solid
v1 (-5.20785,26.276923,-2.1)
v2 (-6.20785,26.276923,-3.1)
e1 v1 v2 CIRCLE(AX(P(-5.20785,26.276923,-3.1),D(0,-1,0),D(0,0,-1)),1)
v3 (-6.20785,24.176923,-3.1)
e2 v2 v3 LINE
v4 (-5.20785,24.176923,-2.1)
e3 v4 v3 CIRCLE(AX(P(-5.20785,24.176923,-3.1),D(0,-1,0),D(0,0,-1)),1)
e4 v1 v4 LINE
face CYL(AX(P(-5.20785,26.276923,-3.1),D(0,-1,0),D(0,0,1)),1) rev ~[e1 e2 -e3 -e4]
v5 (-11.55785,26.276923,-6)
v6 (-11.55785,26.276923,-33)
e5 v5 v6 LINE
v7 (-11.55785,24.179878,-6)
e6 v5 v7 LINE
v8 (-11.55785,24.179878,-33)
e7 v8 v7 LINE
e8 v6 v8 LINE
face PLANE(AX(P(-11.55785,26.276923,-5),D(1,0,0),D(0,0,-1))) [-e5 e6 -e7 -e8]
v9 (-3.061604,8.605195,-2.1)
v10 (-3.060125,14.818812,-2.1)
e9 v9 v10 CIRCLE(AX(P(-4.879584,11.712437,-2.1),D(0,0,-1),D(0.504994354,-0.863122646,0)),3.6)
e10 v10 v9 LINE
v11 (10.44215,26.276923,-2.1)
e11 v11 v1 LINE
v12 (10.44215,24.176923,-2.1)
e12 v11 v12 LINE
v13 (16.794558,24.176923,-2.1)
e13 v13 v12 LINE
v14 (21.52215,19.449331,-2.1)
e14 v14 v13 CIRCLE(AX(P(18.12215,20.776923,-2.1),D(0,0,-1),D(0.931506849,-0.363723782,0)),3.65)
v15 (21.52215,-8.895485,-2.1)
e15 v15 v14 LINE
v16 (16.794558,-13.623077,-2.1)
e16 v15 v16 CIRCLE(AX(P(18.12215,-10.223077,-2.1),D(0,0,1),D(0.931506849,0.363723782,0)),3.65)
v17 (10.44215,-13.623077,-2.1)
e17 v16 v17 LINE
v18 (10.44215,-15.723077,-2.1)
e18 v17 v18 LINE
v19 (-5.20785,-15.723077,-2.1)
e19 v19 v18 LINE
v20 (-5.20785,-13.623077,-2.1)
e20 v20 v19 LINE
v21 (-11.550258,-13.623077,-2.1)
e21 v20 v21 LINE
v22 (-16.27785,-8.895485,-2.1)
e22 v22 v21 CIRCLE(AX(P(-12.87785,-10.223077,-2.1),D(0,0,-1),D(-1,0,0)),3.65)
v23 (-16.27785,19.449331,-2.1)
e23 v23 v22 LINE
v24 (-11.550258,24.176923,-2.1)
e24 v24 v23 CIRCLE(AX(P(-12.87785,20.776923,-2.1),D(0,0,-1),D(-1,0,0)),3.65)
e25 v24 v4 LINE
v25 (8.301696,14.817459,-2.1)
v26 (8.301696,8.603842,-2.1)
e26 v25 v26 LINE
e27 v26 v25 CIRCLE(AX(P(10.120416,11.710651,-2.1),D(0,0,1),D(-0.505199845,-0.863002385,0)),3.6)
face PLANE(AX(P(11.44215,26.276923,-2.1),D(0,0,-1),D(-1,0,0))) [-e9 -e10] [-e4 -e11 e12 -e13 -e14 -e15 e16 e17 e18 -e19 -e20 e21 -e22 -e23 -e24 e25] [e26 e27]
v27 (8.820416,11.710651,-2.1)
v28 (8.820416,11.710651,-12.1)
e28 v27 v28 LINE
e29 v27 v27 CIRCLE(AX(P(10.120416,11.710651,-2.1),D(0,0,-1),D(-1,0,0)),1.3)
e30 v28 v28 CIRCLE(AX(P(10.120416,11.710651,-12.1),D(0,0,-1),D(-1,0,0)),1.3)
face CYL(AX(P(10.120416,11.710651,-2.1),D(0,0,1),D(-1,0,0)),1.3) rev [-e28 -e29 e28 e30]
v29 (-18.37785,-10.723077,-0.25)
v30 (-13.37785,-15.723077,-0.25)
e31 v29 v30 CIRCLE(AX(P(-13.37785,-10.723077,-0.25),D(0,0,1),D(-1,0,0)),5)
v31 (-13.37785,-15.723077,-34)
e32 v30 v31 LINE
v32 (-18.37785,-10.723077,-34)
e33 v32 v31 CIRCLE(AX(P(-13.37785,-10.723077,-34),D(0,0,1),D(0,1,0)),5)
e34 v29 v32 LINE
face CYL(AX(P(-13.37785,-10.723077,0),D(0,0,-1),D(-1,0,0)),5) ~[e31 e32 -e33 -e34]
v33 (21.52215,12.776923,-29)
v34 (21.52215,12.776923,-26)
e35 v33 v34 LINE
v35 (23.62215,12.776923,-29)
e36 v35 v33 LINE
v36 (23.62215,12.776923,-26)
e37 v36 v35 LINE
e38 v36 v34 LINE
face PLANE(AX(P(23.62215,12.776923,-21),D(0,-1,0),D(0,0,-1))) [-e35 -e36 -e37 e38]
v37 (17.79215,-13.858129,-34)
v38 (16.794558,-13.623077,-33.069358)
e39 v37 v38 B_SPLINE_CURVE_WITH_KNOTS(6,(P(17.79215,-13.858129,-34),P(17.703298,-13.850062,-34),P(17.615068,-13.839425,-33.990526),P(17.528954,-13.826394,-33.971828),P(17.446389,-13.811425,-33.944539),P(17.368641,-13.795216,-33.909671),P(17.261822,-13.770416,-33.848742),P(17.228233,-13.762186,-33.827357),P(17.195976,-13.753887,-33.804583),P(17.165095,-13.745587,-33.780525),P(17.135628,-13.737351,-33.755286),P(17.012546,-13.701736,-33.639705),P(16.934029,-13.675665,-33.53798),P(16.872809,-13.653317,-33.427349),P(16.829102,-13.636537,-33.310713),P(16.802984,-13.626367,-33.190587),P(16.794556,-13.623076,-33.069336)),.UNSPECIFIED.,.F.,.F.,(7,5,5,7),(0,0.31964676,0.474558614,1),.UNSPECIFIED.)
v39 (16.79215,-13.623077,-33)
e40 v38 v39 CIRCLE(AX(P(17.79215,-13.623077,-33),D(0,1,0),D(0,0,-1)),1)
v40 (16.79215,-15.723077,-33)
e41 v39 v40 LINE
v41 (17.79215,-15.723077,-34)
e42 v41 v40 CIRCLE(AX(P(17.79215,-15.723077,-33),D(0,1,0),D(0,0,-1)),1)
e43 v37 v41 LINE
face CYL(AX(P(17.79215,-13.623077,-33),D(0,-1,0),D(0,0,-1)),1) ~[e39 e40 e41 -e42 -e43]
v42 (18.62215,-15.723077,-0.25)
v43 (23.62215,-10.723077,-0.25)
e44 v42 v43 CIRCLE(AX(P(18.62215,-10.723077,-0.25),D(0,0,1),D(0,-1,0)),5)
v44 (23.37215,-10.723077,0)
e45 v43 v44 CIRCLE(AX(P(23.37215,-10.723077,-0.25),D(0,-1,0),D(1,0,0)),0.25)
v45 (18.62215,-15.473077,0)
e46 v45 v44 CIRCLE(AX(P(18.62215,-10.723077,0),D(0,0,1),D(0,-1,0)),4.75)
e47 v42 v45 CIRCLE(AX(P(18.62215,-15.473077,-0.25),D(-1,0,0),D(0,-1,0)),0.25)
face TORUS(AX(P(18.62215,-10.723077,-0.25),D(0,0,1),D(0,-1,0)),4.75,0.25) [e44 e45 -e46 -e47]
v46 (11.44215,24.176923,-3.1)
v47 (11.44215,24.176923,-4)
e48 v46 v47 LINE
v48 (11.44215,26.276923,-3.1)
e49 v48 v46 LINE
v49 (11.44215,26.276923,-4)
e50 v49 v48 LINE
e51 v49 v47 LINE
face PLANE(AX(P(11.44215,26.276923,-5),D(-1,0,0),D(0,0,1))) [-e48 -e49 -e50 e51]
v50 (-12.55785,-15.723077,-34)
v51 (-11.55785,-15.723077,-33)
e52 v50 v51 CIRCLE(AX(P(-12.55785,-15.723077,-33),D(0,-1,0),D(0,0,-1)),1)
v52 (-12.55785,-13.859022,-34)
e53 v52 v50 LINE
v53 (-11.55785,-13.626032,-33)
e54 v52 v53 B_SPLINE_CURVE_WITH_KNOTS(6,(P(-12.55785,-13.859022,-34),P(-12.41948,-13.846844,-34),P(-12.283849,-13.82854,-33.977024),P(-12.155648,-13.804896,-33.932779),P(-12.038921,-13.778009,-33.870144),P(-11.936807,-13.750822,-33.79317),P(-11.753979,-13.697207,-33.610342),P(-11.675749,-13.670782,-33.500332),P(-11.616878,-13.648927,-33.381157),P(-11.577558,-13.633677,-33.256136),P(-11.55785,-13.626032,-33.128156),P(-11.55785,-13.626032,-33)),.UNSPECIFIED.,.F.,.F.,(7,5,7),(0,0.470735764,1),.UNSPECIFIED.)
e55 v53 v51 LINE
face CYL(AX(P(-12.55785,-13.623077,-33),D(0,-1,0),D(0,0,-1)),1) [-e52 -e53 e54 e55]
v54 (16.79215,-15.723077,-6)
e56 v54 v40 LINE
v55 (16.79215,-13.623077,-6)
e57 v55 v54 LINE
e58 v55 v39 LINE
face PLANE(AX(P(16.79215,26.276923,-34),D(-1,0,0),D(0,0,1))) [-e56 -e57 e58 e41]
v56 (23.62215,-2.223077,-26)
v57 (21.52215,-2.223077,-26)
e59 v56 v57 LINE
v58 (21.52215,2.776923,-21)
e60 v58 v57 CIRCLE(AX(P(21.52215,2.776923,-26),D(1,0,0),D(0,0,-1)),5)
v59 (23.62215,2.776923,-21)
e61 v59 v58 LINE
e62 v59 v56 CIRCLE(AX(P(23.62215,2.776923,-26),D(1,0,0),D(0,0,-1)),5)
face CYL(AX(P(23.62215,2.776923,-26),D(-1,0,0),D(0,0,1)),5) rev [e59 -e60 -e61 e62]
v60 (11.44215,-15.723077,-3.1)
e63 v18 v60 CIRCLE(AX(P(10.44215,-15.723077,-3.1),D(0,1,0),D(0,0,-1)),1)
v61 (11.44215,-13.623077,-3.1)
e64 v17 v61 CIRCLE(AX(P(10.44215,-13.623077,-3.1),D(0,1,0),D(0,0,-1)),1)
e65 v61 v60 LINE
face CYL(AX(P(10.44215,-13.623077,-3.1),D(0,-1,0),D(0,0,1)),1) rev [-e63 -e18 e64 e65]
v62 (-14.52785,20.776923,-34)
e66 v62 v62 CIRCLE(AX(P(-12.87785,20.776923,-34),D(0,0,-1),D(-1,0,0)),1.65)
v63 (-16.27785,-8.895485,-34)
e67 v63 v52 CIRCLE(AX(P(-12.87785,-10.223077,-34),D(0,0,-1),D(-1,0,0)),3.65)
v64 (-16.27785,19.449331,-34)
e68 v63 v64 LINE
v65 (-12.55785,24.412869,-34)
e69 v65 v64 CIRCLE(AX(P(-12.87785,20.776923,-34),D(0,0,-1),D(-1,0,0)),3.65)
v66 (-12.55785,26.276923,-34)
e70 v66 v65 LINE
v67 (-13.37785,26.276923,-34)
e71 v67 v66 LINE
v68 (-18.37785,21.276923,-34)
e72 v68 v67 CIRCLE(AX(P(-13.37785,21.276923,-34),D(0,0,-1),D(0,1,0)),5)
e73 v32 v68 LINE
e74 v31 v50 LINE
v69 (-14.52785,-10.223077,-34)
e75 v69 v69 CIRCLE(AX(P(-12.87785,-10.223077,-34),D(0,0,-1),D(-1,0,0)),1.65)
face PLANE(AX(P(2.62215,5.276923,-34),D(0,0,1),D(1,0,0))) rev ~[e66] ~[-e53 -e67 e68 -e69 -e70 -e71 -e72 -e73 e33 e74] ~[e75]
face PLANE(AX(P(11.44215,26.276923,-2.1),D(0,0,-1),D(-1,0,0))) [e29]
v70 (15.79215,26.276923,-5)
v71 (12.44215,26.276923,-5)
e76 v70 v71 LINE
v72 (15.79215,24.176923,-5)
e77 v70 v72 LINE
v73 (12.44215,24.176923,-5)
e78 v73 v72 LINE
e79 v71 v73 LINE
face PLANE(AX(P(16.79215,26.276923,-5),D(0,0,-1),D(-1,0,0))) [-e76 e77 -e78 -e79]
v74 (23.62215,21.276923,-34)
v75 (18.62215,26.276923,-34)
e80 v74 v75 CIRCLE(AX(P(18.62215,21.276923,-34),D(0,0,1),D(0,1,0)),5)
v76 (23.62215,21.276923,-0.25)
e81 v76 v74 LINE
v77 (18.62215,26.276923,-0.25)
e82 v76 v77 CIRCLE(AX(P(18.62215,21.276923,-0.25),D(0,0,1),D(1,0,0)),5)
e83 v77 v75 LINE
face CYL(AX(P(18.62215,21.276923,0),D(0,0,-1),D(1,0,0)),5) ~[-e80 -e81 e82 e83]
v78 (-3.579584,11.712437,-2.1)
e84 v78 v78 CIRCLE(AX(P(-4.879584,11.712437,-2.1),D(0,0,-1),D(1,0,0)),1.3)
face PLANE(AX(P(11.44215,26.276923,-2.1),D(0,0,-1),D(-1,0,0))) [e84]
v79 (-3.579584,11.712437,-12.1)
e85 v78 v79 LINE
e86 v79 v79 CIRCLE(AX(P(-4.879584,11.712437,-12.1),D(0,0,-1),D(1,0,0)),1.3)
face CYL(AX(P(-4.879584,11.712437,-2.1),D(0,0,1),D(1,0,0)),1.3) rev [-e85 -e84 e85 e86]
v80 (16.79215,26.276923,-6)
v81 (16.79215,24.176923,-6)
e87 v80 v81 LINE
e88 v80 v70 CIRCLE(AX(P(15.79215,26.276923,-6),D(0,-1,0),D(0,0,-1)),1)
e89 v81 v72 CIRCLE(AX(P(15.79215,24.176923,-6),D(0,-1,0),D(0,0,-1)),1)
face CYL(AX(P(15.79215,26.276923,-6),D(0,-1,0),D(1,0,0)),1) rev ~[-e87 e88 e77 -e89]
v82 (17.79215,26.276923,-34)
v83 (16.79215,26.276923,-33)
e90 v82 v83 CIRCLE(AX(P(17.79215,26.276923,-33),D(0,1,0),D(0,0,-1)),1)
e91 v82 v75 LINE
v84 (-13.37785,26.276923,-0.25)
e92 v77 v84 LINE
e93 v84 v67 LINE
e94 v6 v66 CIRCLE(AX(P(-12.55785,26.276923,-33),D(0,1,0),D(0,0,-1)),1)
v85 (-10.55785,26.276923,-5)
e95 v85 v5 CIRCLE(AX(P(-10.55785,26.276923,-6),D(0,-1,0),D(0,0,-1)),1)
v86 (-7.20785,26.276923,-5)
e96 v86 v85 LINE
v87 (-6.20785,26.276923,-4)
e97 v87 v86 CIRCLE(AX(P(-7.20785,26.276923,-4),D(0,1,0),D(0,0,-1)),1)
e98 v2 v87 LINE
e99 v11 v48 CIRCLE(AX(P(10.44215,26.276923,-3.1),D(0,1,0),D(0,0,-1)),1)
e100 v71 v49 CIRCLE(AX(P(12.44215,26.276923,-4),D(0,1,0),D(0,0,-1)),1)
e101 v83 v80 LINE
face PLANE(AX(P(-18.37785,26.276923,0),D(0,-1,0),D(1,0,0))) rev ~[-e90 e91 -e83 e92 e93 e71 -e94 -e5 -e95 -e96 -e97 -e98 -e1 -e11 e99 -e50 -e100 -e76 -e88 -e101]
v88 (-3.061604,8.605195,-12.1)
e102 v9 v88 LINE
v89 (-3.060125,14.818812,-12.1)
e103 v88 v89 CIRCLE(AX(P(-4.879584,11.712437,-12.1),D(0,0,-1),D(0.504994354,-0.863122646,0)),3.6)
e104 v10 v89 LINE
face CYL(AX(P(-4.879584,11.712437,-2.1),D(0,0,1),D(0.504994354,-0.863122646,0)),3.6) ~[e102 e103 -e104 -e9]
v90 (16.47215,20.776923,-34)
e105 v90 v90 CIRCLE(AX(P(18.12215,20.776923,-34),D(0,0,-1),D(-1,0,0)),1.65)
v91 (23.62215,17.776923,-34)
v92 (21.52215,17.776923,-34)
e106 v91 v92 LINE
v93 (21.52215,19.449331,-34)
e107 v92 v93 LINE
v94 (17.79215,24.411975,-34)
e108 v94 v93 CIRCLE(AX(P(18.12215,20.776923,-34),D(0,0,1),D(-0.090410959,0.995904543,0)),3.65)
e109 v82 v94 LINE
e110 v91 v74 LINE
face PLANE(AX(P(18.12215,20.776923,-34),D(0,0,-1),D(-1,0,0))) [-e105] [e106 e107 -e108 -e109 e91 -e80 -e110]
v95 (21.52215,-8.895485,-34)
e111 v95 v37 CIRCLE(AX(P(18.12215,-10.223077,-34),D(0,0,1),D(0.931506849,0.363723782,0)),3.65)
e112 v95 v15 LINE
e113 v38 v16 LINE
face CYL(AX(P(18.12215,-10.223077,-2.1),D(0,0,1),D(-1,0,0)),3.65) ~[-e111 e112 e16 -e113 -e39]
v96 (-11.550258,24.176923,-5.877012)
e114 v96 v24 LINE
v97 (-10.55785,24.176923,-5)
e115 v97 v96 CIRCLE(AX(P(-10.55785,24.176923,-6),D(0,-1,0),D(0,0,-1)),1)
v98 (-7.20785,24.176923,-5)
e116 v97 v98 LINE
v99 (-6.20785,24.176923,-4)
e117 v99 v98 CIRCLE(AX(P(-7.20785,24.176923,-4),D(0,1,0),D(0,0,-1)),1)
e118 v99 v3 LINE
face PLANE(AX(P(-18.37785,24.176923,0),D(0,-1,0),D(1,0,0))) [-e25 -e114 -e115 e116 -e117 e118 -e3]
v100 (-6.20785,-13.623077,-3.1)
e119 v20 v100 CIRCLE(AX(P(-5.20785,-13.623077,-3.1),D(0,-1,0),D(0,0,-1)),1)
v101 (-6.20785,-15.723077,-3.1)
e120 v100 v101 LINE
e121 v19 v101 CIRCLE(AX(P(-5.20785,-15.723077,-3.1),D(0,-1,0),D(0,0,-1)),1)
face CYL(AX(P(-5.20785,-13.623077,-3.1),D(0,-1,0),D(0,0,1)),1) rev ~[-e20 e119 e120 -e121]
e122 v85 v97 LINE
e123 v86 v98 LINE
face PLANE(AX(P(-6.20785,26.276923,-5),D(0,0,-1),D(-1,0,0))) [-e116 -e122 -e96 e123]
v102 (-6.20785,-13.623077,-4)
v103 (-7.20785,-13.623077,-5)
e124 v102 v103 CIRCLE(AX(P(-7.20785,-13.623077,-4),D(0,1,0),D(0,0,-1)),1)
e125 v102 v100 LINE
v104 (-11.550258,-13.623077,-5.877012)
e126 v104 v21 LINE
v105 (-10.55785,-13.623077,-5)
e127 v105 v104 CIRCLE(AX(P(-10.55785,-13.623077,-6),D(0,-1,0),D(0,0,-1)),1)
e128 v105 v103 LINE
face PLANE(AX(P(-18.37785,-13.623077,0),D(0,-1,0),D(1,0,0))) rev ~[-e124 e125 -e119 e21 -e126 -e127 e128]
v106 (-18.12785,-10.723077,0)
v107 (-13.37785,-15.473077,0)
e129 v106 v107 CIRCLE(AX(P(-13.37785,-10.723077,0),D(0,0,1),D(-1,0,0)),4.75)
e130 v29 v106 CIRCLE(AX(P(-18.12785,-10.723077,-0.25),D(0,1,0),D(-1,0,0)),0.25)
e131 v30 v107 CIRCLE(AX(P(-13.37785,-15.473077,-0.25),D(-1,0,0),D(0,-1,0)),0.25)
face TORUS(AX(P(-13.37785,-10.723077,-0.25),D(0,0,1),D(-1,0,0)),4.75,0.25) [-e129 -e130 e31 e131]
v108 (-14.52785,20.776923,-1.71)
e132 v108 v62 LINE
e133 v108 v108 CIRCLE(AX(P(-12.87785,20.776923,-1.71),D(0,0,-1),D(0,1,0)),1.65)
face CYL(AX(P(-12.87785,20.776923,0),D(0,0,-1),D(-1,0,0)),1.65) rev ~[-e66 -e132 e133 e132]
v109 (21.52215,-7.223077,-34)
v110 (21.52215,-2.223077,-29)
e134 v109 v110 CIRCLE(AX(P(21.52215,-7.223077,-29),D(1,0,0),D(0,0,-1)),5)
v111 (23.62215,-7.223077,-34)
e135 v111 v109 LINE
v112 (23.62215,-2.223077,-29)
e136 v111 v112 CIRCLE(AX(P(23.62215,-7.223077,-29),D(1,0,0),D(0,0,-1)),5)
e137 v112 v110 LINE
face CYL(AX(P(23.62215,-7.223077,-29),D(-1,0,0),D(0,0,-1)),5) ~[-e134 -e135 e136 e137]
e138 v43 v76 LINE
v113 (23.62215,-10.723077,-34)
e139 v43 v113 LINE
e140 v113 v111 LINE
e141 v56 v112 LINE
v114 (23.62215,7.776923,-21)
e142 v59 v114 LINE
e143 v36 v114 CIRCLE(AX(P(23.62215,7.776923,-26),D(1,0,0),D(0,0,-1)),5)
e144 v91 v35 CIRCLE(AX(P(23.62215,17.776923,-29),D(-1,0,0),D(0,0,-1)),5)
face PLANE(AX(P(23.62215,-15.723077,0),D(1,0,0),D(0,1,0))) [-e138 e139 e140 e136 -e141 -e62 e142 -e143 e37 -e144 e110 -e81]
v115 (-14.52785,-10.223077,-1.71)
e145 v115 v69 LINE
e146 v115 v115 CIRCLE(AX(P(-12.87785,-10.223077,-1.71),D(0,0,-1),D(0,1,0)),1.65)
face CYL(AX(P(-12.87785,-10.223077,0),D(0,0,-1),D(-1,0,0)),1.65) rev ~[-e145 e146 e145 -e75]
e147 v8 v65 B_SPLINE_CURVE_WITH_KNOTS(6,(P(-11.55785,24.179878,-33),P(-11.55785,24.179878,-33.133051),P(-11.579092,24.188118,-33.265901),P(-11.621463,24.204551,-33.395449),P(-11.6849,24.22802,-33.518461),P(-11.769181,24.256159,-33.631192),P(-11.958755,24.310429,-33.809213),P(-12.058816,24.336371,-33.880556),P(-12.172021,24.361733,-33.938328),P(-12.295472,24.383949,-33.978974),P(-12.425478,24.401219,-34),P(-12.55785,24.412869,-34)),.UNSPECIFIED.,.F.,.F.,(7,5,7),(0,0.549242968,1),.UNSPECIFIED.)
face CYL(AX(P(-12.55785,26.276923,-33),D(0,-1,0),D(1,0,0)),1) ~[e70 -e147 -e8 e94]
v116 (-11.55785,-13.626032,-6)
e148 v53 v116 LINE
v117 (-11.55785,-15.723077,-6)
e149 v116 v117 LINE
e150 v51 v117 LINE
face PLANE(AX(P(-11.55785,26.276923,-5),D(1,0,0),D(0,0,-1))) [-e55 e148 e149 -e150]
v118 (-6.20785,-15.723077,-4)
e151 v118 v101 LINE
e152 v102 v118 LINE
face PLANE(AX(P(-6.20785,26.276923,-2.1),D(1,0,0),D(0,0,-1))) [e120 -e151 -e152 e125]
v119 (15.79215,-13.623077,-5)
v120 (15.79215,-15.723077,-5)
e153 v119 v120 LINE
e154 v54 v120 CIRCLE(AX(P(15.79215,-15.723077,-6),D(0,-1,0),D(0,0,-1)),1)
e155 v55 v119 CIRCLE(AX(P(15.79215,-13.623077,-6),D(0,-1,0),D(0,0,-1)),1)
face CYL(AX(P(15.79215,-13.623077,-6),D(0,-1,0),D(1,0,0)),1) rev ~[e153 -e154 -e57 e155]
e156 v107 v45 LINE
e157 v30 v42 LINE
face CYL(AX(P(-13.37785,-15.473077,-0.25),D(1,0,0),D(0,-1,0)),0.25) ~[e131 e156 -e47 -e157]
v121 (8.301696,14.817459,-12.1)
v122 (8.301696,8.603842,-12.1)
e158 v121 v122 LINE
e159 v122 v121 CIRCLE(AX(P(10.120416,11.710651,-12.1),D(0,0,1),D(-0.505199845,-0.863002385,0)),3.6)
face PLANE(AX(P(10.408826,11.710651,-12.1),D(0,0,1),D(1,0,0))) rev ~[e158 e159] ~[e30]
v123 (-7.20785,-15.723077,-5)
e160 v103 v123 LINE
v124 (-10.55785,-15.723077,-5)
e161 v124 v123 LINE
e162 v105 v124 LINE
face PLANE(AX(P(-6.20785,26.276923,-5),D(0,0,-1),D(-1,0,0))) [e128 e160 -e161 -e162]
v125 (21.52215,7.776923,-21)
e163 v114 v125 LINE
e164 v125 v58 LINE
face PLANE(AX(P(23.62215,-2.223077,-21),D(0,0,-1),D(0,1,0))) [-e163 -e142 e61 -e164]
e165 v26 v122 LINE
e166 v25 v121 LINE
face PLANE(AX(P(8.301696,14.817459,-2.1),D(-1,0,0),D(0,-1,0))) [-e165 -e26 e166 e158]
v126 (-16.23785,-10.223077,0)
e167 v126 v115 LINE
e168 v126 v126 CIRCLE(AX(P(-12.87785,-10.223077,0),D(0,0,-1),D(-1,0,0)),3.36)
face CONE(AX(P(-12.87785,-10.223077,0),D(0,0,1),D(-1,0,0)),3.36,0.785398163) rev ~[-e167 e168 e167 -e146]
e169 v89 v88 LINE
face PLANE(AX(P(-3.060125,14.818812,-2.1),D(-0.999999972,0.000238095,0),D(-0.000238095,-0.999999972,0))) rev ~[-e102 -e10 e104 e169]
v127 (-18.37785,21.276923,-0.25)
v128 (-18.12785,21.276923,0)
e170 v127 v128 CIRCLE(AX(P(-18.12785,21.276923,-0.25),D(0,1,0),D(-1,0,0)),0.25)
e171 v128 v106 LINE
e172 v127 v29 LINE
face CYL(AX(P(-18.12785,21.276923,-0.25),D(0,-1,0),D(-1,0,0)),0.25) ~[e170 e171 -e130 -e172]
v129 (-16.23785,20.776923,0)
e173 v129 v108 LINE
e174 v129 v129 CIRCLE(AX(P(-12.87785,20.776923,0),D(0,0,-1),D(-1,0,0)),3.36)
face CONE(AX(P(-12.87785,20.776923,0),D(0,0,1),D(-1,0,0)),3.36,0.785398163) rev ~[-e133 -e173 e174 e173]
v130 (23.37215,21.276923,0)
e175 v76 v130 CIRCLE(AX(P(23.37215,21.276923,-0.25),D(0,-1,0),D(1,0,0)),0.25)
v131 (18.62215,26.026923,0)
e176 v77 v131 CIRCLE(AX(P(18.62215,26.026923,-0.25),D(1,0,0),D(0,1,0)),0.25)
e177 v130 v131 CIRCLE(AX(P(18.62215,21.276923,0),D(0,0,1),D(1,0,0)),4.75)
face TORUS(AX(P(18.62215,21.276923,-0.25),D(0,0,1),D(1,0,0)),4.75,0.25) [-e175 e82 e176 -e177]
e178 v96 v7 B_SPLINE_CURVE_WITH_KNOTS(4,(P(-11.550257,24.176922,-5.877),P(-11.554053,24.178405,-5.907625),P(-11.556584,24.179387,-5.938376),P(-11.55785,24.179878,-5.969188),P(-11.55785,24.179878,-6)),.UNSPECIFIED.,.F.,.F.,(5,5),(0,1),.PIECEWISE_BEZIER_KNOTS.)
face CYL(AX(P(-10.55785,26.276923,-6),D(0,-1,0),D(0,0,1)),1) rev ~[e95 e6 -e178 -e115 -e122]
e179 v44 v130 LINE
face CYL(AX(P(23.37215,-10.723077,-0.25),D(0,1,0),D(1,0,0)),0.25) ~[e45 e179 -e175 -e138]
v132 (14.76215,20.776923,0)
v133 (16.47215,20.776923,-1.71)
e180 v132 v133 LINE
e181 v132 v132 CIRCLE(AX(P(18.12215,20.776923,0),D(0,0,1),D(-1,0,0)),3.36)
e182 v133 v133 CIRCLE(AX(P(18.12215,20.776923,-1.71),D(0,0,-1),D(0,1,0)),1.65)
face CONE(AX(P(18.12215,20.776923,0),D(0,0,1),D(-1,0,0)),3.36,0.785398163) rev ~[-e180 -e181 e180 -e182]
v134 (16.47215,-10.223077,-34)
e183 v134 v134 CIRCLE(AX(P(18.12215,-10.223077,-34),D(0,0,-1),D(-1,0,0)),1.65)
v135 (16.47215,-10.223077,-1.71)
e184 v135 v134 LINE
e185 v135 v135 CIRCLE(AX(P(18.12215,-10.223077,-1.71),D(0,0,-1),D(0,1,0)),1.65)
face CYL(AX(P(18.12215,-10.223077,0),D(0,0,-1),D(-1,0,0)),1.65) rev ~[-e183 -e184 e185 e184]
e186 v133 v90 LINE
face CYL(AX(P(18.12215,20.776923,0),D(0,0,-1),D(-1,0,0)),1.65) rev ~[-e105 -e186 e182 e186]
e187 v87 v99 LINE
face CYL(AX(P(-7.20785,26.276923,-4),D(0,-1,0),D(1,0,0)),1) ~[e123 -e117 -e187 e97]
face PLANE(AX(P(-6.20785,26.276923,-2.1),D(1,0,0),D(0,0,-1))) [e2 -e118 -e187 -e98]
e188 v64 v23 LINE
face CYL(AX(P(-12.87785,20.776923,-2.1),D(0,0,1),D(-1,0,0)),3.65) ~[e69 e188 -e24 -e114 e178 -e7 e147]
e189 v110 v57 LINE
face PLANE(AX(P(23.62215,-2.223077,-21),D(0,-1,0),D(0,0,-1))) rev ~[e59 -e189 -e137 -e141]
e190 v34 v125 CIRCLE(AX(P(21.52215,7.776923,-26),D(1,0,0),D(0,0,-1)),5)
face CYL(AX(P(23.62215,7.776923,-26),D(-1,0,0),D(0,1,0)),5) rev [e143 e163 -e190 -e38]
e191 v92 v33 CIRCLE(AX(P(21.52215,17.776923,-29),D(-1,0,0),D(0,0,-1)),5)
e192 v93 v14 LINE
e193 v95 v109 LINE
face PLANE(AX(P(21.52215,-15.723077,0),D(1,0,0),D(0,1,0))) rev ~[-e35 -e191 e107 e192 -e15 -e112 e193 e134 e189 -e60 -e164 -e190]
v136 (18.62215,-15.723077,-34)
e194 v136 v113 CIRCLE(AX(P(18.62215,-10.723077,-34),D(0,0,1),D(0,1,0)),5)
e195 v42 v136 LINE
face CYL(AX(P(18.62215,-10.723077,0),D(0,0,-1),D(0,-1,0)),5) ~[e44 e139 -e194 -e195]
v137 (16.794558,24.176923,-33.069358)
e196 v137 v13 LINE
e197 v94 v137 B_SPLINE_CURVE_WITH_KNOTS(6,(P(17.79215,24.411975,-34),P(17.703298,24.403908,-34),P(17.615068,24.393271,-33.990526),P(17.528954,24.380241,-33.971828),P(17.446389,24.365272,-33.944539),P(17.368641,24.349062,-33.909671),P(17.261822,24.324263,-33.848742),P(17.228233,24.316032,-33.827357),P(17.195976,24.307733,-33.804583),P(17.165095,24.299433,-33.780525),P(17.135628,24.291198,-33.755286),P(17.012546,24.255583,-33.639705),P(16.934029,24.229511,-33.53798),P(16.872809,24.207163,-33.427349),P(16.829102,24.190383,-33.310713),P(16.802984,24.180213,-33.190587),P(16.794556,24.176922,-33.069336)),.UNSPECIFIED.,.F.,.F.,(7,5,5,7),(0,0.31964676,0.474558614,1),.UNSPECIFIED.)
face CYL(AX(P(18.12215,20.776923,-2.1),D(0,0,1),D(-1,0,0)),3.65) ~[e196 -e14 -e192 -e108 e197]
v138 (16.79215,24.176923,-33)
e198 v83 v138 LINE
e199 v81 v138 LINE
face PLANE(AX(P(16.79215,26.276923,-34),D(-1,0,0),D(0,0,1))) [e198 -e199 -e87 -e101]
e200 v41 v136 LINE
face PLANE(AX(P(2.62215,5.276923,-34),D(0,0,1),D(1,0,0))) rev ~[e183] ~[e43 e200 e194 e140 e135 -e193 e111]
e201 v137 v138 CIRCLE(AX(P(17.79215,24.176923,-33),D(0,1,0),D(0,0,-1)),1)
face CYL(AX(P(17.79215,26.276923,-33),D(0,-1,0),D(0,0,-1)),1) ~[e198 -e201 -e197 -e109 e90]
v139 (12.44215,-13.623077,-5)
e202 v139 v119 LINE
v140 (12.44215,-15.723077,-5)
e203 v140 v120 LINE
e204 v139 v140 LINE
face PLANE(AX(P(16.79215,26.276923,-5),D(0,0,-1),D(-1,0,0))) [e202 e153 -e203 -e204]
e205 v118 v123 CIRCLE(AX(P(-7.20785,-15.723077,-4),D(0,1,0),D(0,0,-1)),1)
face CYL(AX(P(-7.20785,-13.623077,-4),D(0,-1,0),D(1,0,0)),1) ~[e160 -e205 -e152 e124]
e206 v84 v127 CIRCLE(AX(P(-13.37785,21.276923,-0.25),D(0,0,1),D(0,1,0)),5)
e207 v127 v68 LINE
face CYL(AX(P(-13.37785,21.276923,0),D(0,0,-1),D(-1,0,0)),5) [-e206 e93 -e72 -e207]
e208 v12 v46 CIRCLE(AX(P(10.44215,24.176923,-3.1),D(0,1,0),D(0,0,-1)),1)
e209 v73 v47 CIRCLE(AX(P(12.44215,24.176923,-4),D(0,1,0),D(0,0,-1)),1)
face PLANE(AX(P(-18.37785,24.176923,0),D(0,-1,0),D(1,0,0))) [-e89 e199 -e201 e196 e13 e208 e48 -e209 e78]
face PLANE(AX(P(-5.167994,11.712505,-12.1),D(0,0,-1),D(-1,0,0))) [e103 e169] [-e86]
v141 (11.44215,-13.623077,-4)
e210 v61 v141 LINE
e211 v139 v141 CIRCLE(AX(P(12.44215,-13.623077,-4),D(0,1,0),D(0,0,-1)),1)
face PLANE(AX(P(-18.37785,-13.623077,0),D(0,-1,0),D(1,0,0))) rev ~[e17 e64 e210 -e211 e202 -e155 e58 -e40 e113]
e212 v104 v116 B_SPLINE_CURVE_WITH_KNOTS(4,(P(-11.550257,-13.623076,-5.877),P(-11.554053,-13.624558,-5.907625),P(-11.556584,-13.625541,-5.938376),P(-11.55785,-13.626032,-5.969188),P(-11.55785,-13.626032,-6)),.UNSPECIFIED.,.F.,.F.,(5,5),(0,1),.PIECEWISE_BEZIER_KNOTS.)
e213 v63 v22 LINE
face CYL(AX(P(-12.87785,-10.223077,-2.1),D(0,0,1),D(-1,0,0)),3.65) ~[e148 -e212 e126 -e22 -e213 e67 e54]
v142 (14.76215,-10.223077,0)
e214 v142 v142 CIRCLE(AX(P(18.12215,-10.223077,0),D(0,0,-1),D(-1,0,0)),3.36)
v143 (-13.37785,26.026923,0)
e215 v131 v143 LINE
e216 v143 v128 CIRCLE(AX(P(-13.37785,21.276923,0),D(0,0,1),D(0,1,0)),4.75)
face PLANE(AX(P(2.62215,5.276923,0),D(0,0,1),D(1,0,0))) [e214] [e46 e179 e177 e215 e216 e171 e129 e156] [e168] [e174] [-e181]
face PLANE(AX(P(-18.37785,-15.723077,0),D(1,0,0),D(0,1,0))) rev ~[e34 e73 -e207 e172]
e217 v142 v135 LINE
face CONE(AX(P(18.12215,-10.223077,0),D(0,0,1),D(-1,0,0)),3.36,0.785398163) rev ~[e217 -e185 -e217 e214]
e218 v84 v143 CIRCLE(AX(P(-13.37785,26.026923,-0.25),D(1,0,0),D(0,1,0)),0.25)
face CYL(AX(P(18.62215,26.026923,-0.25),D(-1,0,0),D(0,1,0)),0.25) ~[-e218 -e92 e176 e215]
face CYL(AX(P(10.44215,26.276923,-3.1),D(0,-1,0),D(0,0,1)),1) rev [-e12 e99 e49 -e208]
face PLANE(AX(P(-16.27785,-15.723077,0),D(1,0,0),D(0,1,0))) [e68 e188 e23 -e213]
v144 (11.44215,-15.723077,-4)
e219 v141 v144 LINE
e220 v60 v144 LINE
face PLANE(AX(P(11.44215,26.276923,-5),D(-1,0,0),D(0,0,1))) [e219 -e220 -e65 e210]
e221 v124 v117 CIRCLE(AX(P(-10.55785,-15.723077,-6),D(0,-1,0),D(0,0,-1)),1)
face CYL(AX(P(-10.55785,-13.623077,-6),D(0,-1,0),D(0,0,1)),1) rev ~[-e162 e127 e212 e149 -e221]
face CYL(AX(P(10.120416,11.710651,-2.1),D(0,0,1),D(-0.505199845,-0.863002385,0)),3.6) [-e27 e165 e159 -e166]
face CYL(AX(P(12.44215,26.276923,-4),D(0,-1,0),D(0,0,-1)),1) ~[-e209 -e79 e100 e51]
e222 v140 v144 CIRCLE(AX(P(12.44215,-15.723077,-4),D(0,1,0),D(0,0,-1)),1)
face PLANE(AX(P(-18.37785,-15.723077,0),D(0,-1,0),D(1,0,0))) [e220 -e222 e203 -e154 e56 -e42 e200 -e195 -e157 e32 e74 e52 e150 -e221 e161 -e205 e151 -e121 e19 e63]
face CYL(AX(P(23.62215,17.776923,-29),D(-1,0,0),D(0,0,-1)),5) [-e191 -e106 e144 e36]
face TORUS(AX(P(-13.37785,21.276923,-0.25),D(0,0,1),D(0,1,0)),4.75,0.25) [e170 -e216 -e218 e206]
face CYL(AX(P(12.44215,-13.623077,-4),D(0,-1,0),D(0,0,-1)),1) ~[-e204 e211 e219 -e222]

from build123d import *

# Parameters (mm, degrees)
CROQUIS1_W                                           = 42
CROQUIS1_H                                           = 42
SALIENTE_EXTRUIR1_DEPTH                              = 34
REDONDEO1_R                                          = 5
VACIADO1_T                                           = -2.1
CORTAR_EXTRUIR1_DEPTH                                = 59.974621346
CORTAR_EXTRUIR2_REACH                                = 62.087
CROQUIS4_W                                           = 13
CROQUIS4_H                                           = 15
REDONDEO2_R                                          = 5
REDONDEO3_R                                          = 1
REDONDEO4_R                                          = 0.25
CROQUIS5_R                                           = 3.65
SALIENTE_EXTRUIR2_DEPTH                              = 31.9
REFRENTADO_PARA_TORNILLO_TAP_N_CON_CABEZ_D           = 3.3
REFRENTADO_PARA_TORNILLO_TAP_N_CON_CABEZ_CSINK_D     = 6.72
REFRENTADO_PARA_TORNILLO_TAP_N_CON_CABEZ_CSINK_ANGLE = 90
CROQUIS16_R                                          = 1.3
SALIENTE_EXTRUIR3_DEPTH                              = 10


with BuildPart() as part:
    # Croquis1 → Saliente-Extruir1 (new body)
    with BuildSketch(Plane.XY):
        with Locations((2.622149837, 5.276923077)):
            Rectangle(CROQUIS1_W, CROQUIS1_H)
    extrude(amount=-SALIENTE_EXTRUIR1_DEPTH)

    # Redondeo1
    redondeo1_edges = [part.edges().sort_by_distance(p)[0] for p in [
        (-18.377850163, 26.276923077, -17),
        (23.622149837, 26.276923077, -17),
        (23.622149837, -15.723076923, -17),
        (-18.377850163, -15.723076923, -17),
    ]]
    fillet(redondeo1_edges, radius=REDONDEO1_R)

    # Vaciado1
    vaciado1_openings = [part.faces().sort_by_distance(p)[0] for p in [
        (2.622149837, 5.276923077, -34),
    ]]
    offset(amount=VACIADO1_T, openings=vaciado1_openings, kind=Kind.INTERSECTION)

    # Croquis2 → Cortar-Extruir1 (cut, through all)
    with BuildSketch(Plane(origin=(0, 26.276923077, 0), x_dir=(1, 0, 0), z_dir=(0, 1, 0))):
        Polygon((-11.557850163, 34), (16.792149837, 34), (16.792149837, 5), (11.442149837, 5), (11.442149837, 2.1), (-6.207850163, 2.1), (-6.207850163, 5), (-11.557850163, 5), align=None)
    extrude(amount=-CORTAR_EXTRUIR1_DEPTH, mode=Mode.SUBTRACT)

    # Croquis4 → Cortar-Extruir2 (cut, up to next)
    with BuildSketch(Plane(origin=(23.622149837, 0, 0), x_dir=(0, 0, -1), z_dir=(1, 0, 0)), mode=Mode.PRIVATE) as cortar_extruir2_sk1:
        with Locations((27.5, 5.276923077)):
            Rectangle(CROQUIS4_W, CROQUIS4_H)
    cortar_extruir2_tool1 = extrude(cortar_extruir2_sk1.sketch, amount=-CORTAR_EXTRUIR2_REACH, mode=Mode.PRIVATE) & part.part
    add(cortar_extruir2_tool1.solids().sort_by_distance((23.62215, 5.276923, -27.5))[0], mode=Mode.SUBTRACT)

    # Redondeo2
    redondeo2_edges = [part.edges().sort_by_distance(p)[0] for p in [
        (22.572149837, 12.776923077, -21),
        (22.572149837, -2.223076923, -21),
        (22.572149837, -2.223076923, -34),
        (22.572149837, 12.776923077, -34),
    ]]
    fillet(redondeo2_edges, radius=REDONDEO2_R)

    # Redondeo3
    redondeo3_edges = [part.edges().sort_by_distance(p)[0] for p in [
        (-11.557850163, 25.226923077, -5),
        (-11.557850163, -14.673076923, -5),
        (-11.557850163, 25.226923077, -34),
        (-11.557850163, -14.673076923, -34),
        (16.792149837, 25.226923077, -34),
        (16.792149837, -14.673076923, -34),
        (16.792149837, 25.226923077, -5),
        (16.792149837, -14.673076923, -5),
        (11.442149837, 25.226923077, -2.1),
        (11.442149837, -14.673076923, -2.1),
        (-6.207850163, 25.226923077, -5),
        (-6.207850163, -14.673076923, -5),
        (11.442149837, 25.226923077, -5),
        (11.442149837, -14.673076923, -5),
        (-6.207850163, 25.226923077, -2.1),
        (-6.207850163, -14.673076923, -2.1),
    ]]
    fillet(redondeo3_edges, radius=REDONDEO3_R)

    # Redondeo4
    redondeo4_edges = [part.edges().sort_by_distance(p)[0] for p in [
        (2.622149837, -15.723076923, 0),
        (-18.377850163, 5.276923077, 0),
        (23.622149837, 5.276923077, 0),
        (2.622149837, 26.276923077, 0),
        (22.157683743, 24.812456983, 0),
        (-16.913384069, 24.812456983, 0),
        (-16.913384069, -14.258610829, 0),
        (22.157683743, -14.258610829, 0),
    ]]
    fillet(redondeo4_edges, radius=REDONDEO4_R)

    # Croquis5 → Saliente-Extruir2 (add)
    with BuildSketch(Plane(origin=(0, 0, -2.1), x_dir=(-1, 0, 0), z_dir=(0, 0, -1))):
        with Locations((-18.122149837, 20.776923077)):
            Circle(CROQUIS5_R)
        with Locations((12.877850163, 20.776923077)):
            Circle(CROQUIS5_R)
        with Locations((-18.122149837, -10.223076923)):
            Circle(CROQUIS5_R)
        with Locations((12.877850163, -10.223076923)):
            Circle(CROQUIS5_R)
    extrude(amount=SALIENTE_EXTRUIR2_DEPTH)

    # Refrentado para tornillo tapón con cabeza plana de clavija de M31 (through all)
    with Locations(Plane.XY):
        with Locations((-12.877850163, 20.776923077), (-12.877850163, -10.223076923), (18.122149837, -10.223076923), (18.122149837, 20.776923077)):
            CounterSinkHole(REFRENTADO_PARA_TORNILLO_TAP_N_CON_CABEZ_D / 2, REFRENTADO_PARA_TORNILLO_TAP_N_CON_CABEZ_CSINK_D / 2, counter_sink_angle=REFRENTADO_PARA_TORNILLO_TAP_N_CON_CABEZ_CSINK_ANGLE)

    # Croquis16 → Saliente-Extruir3 (add)
    # profile 1 of 2: a face of its own
    with BuildSketch(Plane(origin=(0, 0, -2.1), x_dir=(-1, 0, 0), z_dir=(0, 0, -1))):
        with BuildLine():
            Line((-8.301696367, 14.817459435), (-8.301696367, 8.603842264))
            ThreePointArc((-8.301696367, 8.603842264), (-13.72041581, 11.71065085), (-8.301696367, 14.817459435))
        make_face()
        with Locations((-10.12041581, 11.71065085)):
            Circle(CROQUIS16_R, mode=Mode.SUBTRACT)
    # profile 2 of 2: a face of its own
    with BuildSketch(Plane(origin=(0, 0, -2.1), x_dir=(-1, 0, 0), z_dir=(0, 0, -1))):
        with BuildLine():
            Line((3.060124976, 14.818812033), (3.061604408, 8.605195038))
            ThreePointArc((3.061604408, 8.605195038), (8.479583981, 11.713293707), (3.060124976, 14.818812033))
        make_face()
        with Locations(Location((4.879584083, 11.712436564, 0), (0, 0, 180))):
            Circle(CROQUIS16_R, mode=Mode.SUBTRACT)
    extrude(amount=SALIENTE_EXTRUIR3_DEPTH)


solid = part.part
